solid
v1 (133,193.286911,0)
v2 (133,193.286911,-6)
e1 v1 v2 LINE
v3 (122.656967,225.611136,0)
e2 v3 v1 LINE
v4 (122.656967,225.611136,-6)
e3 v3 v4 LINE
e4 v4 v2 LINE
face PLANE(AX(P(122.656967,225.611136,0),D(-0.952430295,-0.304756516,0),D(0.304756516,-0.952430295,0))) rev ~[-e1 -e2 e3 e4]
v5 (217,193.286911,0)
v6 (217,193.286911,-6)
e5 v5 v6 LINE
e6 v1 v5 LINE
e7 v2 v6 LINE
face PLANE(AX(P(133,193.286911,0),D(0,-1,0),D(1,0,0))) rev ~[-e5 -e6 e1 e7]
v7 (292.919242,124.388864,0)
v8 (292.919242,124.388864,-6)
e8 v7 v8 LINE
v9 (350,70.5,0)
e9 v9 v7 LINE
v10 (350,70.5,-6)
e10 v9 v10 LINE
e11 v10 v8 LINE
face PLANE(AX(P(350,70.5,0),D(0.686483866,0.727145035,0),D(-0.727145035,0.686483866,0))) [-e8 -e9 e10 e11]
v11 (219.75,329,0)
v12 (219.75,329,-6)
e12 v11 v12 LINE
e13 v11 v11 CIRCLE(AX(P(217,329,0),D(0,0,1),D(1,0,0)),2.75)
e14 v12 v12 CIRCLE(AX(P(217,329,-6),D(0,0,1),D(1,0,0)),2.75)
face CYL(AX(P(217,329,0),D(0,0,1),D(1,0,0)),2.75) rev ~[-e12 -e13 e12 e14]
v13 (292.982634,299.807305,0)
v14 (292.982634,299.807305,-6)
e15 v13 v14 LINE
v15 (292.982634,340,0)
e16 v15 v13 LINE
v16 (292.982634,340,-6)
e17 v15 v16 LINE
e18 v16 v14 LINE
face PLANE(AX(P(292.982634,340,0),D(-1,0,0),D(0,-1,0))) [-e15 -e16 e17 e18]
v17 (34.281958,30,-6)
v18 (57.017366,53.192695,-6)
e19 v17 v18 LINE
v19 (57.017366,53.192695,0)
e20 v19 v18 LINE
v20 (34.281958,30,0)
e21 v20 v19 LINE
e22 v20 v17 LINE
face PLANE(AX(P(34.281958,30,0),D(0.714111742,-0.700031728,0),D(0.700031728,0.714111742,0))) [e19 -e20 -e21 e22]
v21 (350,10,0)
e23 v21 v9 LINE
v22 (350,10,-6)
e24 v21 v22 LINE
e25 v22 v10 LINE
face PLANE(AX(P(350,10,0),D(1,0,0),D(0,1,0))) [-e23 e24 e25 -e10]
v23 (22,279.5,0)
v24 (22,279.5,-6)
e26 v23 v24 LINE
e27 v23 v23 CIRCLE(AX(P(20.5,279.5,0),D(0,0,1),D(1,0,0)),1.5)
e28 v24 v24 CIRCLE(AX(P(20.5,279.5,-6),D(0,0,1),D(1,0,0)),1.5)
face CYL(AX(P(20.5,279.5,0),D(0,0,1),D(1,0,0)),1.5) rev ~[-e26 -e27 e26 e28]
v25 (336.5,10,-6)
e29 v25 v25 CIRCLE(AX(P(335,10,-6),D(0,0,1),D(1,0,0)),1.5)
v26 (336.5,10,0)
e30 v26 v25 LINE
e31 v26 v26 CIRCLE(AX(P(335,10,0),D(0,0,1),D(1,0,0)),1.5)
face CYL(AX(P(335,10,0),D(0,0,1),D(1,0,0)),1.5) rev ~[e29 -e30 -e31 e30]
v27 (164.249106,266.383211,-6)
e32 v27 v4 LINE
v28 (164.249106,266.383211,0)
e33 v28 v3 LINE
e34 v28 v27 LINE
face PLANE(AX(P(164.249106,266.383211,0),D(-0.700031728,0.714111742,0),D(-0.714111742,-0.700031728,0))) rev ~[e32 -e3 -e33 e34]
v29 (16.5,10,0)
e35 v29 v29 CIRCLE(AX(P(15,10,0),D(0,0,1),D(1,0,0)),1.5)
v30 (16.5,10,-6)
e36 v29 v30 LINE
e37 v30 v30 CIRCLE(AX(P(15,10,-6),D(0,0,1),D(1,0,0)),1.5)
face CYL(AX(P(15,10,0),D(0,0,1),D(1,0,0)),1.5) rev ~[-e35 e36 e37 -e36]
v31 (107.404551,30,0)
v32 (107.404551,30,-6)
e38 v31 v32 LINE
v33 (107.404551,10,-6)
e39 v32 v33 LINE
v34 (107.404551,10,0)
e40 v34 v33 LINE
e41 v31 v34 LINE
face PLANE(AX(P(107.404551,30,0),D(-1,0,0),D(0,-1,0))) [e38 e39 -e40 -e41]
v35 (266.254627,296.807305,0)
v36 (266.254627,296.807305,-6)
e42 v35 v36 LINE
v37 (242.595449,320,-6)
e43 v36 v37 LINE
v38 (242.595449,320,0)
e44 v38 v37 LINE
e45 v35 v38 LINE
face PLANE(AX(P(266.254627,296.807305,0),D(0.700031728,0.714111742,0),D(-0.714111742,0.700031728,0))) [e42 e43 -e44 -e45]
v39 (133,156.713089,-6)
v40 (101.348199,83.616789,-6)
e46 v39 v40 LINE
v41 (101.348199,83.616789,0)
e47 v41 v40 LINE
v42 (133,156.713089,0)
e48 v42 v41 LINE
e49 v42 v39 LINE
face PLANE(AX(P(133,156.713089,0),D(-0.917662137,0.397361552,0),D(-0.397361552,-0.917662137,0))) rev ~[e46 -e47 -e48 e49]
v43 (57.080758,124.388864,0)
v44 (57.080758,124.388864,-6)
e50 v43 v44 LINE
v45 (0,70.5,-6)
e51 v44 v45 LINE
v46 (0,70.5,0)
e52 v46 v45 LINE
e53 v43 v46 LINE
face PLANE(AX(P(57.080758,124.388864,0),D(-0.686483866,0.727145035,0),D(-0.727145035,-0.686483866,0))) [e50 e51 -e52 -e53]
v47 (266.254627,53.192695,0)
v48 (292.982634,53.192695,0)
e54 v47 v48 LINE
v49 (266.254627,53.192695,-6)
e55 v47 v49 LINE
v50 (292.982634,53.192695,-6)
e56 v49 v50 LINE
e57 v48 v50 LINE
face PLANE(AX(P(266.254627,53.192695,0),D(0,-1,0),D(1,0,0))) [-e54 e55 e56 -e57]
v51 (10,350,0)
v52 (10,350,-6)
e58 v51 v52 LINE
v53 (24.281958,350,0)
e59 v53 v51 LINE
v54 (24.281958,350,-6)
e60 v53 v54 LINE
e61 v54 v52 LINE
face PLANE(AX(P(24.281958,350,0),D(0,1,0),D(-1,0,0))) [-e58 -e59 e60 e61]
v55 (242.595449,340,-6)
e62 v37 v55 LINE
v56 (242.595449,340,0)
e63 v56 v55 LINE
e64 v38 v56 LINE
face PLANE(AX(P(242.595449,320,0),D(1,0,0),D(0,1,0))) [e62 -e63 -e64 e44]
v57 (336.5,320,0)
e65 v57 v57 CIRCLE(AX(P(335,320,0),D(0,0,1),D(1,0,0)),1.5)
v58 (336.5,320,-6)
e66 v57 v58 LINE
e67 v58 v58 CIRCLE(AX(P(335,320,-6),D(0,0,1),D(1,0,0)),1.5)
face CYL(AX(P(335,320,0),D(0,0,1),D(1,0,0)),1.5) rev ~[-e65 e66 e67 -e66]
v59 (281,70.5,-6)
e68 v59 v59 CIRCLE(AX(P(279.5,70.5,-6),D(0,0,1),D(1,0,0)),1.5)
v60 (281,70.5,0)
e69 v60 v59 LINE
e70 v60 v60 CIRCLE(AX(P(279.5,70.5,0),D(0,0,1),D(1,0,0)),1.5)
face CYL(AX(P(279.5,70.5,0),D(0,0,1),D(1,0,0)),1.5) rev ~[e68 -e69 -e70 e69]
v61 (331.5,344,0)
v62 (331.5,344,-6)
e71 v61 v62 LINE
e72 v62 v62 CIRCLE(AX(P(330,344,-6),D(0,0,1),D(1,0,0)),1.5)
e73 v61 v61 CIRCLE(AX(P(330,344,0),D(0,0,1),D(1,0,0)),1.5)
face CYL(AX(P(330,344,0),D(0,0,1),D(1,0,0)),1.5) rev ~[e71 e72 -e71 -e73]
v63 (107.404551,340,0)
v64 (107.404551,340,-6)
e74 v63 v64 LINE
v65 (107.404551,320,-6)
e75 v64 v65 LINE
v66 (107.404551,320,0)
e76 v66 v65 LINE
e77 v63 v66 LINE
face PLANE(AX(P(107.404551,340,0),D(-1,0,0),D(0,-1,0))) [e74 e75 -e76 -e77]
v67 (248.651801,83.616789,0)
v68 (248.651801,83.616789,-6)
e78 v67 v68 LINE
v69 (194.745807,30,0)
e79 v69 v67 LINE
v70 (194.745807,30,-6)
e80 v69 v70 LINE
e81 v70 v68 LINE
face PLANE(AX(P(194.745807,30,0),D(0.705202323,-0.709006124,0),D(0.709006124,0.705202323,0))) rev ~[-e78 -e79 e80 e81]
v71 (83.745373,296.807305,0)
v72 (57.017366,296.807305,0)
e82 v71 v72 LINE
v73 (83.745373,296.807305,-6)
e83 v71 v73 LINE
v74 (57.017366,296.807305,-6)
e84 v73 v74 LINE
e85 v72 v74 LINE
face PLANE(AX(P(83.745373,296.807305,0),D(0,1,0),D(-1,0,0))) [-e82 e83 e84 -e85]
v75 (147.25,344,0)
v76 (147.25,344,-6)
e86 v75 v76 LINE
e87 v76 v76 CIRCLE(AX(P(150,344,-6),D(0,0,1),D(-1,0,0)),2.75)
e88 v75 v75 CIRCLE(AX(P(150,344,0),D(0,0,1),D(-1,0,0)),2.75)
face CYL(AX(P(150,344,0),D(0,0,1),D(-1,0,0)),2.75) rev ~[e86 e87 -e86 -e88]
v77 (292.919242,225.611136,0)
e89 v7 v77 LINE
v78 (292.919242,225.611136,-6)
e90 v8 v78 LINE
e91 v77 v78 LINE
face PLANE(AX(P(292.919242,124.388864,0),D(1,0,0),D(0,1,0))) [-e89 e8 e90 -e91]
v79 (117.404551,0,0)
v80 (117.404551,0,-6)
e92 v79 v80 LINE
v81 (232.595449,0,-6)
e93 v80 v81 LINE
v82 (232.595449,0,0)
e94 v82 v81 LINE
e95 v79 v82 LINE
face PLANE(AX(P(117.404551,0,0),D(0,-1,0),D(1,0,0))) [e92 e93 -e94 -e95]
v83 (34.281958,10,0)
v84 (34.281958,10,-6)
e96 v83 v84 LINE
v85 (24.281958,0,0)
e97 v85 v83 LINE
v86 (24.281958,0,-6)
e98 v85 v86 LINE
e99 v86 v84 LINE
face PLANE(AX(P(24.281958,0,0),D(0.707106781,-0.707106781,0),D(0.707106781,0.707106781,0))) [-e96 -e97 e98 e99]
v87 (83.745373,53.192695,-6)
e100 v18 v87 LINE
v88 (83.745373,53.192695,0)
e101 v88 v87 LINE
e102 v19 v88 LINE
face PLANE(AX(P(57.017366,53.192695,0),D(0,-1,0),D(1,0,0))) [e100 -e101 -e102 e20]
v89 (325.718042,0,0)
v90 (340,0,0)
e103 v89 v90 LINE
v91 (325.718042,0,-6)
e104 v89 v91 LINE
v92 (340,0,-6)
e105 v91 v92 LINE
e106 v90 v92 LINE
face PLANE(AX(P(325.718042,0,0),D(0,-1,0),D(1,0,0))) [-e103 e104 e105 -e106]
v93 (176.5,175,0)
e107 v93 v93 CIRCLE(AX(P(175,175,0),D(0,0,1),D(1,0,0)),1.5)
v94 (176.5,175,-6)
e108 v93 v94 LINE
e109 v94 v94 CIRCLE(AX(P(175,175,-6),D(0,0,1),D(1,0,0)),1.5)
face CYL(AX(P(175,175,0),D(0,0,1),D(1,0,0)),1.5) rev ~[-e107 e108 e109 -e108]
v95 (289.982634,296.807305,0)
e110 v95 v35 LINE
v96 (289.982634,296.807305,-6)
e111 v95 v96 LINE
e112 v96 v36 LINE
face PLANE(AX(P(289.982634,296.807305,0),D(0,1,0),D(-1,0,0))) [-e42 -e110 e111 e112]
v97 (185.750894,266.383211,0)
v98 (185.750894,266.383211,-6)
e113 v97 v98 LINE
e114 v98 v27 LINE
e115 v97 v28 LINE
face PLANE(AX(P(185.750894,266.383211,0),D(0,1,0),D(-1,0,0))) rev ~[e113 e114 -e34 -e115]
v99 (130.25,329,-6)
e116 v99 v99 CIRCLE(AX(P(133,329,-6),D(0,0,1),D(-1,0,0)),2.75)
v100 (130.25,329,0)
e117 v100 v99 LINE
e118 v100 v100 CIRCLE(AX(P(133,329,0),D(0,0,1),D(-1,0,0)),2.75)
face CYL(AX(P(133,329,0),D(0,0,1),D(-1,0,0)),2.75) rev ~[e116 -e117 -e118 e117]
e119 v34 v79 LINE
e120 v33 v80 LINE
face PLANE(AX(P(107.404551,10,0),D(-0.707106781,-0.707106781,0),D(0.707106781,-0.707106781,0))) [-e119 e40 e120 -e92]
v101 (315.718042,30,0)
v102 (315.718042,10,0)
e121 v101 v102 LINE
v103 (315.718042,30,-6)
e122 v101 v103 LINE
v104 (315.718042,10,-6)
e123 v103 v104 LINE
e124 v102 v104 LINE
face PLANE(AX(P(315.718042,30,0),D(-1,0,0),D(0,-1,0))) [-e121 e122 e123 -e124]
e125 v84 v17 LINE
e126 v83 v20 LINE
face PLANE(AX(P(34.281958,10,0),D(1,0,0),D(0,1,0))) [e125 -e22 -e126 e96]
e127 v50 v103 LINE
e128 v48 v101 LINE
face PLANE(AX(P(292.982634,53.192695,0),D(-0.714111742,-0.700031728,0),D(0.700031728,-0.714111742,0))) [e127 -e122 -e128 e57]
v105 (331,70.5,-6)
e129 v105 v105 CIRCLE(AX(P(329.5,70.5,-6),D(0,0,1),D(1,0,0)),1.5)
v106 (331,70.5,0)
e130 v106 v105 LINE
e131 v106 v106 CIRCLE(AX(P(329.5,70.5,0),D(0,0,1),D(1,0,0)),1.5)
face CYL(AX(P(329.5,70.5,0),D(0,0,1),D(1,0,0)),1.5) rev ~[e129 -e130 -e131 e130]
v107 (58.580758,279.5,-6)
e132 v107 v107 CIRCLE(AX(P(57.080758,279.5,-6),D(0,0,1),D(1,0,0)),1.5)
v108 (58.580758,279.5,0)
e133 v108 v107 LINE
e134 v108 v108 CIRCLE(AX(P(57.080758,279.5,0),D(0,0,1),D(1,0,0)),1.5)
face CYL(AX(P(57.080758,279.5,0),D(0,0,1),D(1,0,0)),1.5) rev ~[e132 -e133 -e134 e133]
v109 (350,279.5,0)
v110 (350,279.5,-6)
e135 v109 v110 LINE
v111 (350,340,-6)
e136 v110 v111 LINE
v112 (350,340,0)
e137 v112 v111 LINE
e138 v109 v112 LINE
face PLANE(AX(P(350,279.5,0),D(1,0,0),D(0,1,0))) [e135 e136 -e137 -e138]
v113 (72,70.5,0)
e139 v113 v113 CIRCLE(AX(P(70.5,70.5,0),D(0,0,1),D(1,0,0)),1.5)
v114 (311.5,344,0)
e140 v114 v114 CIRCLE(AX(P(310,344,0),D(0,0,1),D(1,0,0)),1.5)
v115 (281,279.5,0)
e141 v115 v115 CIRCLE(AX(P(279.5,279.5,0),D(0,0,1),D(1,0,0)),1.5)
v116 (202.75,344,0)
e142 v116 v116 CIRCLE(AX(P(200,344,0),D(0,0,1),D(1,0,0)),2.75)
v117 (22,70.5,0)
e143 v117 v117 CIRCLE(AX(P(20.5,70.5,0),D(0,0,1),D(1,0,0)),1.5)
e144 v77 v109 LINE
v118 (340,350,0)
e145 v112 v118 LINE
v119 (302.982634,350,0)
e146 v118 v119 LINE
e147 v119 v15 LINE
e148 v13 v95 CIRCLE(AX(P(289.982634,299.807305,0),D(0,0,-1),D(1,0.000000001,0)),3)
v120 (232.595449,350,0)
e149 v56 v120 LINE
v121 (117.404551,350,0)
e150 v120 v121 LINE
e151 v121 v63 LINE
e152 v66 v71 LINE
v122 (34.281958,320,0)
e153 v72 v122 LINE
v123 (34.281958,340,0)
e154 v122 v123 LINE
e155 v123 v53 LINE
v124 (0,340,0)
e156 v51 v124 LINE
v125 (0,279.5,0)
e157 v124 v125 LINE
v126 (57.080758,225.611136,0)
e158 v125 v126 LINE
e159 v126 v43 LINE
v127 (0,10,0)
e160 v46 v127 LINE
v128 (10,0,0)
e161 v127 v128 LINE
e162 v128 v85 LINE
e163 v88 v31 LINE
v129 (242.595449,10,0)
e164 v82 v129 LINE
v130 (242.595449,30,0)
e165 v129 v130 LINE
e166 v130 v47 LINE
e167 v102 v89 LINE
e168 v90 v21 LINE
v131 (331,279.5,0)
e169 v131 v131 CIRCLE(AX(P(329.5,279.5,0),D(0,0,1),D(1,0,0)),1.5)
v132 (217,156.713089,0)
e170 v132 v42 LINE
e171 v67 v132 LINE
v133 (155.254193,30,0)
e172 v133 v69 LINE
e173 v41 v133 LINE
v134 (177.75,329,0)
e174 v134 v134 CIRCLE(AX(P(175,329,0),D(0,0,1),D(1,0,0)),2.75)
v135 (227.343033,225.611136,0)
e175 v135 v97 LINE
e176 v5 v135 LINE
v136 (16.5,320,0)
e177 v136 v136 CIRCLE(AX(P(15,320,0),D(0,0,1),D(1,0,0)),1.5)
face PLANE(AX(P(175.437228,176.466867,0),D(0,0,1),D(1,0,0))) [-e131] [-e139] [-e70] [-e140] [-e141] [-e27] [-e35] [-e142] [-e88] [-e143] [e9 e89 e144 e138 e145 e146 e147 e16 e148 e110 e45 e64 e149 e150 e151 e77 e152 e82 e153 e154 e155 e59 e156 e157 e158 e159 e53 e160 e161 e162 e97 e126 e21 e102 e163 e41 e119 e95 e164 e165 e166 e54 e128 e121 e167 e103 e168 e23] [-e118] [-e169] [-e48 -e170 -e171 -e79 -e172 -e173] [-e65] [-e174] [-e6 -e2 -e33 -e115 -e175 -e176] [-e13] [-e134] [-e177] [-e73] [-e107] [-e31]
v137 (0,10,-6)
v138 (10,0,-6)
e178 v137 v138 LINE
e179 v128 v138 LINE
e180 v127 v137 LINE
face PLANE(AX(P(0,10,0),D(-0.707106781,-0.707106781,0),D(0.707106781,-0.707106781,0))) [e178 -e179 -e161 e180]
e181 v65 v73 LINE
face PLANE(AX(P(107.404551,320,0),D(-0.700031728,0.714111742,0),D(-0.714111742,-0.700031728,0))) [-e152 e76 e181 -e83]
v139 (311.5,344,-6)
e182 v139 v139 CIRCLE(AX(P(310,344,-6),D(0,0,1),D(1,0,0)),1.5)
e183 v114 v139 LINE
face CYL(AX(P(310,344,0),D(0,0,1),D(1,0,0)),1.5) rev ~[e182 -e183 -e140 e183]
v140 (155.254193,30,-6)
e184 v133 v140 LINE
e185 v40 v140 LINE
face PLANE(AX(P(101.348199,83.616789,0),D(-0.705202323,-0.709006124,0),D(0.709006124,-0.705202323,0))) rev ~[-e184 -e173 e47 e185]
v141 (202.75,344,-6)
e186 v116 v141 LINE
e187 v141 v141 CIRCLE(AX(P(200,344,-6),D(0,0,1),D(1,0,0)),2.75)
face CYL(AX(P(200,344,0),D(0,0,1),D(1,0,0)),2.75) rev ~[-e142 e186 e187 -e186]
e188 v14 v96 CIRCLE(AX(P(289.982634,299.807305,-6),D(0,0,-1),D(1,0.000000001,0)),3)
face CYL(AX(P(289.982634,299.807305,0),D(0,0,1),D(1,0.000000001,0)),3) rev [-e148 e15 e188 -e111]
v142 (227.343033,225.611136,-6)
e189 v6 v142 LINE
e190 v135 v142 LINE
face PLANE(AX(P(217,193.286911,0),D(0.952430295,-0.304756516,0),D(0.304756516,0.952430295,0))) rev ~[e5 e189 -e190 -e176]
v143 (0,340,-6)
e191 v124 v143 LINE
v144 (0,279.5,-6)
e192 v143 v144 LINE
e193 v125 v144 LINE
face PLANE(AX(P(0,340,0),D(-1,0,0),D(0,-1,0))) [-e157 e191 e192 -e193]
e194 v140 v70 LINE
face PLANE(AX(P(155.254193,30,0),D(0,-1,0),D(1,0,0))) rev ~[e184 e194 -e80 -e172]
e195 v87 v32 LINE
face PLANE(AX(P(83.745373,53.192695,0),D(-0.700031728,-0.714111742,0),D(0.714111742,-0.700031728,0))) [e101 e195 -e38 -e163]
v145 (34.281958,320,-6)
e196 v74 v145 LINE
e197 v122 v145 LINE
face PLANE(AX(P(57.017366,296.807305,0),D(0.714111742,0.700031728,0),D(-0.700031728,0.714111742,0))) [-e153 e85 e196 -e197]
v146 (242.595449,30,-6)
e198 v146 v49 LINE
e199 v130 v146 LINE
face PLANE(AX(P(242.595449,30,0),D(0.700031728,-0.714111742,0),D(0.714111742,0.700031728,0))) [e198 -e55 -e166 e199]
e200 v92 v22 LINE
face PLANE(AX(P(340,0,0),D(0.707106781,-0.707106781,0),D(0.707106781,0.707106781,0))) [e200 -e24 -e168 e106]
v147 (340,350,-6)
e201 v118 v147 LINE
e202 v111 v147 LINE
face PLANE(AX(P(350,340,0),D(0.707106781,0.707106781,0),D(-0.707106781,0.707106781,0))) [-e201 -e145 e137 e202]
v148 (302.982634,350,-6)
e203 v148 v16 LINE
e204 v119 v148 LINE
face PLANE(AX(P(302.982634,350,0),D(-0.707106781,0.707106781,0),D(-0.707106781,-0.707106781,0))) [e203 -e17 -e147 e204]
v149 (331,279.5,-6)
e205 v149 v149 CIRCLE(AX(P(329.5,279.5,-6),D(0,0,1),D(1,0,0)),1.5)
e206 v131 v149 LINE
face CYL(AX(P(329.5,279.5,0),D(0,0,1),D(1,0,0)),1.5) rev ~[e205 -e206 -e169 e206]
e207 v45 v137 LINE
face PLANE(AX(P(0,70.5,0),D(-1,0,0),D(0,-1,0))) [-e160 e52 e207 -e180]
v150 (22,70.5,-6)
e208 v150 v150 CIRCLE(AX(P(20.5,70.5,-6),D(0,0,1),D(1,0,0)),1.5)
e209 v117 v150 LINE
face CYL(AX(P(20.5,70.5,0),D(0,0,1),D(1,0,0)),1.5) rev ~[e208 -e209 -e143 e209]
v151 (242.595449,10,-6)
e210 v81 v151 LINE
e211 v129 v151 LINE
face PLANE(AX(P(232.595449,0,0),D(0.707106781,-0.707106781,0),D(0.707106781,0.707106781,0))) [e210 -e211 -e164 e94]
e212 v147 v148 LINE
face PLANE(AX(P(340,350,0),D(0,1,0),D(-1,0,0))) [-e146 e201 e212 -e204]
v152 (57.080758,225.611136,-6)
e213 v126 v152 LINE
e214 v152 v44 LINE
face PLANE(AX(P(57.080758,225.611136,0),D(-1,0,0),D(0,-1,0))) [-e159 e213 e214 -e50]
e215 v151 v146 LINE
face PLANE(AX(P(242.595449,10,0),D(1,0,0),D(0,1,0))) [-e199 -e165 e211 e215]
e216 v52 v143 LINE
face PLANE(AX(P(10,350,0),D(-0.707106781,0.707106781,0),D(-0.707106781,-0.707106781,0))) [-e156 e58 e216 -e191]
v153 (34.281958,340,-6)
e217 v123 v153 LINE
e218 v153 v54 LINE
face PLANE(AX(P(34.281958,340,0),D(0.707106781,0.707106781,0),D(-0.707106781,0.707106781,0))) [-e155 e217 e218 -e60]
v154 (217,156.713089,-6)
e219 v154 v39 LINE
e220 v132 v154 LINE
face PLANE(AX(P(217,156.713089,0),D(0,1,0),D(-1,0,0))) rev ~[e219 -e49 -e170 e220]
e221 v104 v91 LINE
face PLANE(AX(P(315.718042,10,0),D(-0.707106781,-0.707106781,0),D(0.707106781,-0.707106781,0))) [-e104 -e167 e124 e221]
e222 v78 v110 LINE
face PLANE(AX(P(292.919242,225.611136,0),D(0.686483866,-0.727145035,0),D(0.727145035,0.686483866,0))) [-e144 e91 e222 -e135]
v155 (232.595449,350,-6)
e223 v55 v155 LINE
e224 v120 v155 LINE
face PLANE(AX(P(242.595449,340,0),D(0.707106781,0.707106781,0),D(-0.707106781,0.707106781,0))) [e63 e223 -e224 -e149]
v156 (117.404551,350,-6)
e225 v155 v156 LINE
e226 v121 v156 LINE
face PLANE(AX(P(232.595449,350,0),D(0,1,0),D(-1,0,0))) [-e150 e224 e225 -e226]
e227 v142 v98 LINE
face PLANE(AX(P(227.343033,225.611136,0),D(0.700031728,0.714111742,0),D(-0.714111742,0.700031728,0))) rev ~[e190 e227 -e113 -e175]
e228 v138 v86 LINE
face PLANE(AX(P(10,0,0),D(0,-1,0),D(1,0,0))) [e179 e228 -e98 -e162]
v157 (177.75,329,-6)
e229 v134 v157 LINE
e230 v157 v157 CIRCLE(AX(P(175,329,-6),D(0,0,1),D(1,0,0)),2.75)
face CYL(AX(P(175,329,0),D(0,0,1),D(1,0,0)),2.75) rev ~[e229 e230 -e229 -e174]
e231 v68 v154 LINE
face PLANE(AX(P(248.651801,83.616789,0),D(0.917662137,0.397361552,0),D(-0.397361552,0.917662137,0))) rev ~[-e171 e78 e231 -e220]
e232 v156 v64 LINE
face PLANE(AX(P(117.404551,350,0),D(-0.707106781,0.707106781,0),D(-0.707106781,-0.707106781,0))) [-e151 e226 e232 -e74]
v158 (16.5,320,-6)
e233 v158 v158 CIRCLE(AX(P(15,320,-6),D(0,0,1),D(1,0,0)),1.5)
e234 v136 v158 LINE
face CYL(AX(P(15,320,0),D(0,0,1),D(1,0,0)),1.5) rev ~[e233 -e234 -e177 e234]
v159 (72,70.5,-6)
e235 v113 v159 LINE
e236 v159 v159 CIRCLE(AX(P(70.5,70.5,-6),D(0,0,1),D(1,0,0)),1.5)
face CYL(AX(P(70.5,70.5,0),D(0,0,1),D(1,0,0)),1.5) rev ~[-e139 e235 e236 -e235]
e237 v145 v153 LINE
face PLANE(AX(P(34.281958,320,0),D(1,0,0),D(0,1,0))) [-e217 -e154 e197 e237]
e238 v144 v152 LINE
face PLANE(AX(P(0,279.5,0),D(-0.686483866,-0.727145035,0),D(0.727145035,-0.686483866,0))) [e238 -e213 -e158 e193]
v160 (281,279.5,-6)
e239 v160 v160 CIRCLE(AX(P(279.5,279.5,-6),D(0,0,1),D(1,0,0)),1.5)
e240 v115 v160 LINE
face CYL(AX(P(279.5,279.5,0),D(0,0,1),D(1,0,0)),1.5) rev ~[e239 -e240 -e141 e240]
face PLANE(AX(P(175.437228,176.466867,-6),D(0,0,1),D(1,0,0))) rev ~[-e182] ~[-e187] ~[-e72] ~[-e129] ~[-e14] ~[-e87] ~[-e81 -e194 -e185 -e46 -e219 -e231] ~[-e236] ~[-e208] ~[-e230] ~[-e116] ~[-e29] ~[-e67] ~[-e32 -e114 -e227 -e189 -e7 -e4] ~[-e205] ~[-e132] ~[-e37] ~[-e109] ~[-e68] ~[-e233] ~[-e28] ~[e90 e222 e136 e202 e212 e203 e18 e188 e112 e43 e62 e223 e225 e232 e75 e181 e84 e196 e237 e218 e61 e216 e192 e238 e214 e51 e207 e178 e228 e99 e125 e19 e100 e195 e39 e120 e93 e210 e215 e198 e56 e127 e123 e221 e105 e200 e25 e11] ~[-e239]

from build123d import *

# Parameters (mm, degrees)
SCHIZZO13_R                  = 1.5
SCHIZZO13_R_2                = 2.75
ESTRUSIONE_ESTRUSIONE2_DEPTH = 6


with BuildPart() as part:
    # Schizzo13 → Estrusione-Estrusione2 (new body)
    with BuildSketch(Plane.XY):
        with BuildLine():
            Line((10, 0), (24.28195797, 0))
            Line((24.28195797, 0), (34.28195797, 10))
            Line((34.28195797, 10), (34.28195797, 30))
            Line((34.28195797, 30), (57.017366293, 53.192694567))
            Line((57.017366293, 53.192694567), (83.745372993, 53.192694567))
            Line((83.745372993, 53.192694567), (107.404551383, 30))
            Line((107.404551383, 30), (107.404551383, 10))
            Line((107.404551383, 10), (117.404551383, 0))
            Line((117.404551383, 0), (232.595448617, 0))
            Line((232.595448617, 0), (242.595448617, 10))
            Line((242.595448617, 10), (242.595448617, 30))
            Line((242.595448617, 30), (266.254627007, 53.192694567))
            Line((266.254627007, 53.192694567), (292.982633707, 53.192694567))
            Line((292.982633707, 53.192694567), (315.71804203, 30))
            Line((315.71804203, 30), (315.71804203, 10))
            Line((315.71804203, 10), (325.71804203, 0))
            Line((325.71804203, 0), (340, 0))
            Line((340, 0), (350, 10))
            Line((350, 10), (350, 70.5))
            Line((350, 70.5), (292.919241786, 124.388863529))
            Line((292.919241786, 124.388863529), (292.919241786, 225.611136471))
            Line((292.919241786, 225.611136471), (350, 279.5))
            Line((350, 279.5), (350, 340))
            Line((350, 340), (340, 350))
            Line((340, 350), (302.982633707, 350))
            Line((302.982633707, 350), (292.982633707, 340))
            Line((292.982633707, 340), (292.982633707, 299.807305433))
            ThreePointArc((292.982633707, 299.807305433), (292.103954051, 297.685985089), (289.982633707, 296.807305433))
            Line((289.982633707, 296.807305433), (266.254627007, 296.807305433))
            Line((266.254627007, 296.807305433), (242.595448617, 320))
            Line((242.595448617, 320), (242.595448617, 340))
            Line((242.595448617, 340), (232.595448617, 350))
            Line((232.595448617, 350), (117.404551383, 350))
            Line((117.404551383, 350), (107.404551383, 340))
            Line((107.404551383, 340), (107.404551383, 320))
            Line((107.404551383, 320), (83.745372993, 296.807305433))
            Line((83.745372993, 296.807305433), (57.017366293, 296.807305433))
            Line((57.017366293, 296.807305433), (34.28195797, 320))
            Line((34.28195797, 320), (34.28195797, 340))
            Line((34.28195797, 340), (24.28195797, 350))
            Line((24.28195797, 350), (10, 350))
            Line((10, 350), (0, 340))
            Line((0, 340), (0, 279.5))
            Line((0, 279.5), (57.080758214, 225.611136471))
            Line((57.080758214, 225.611136471), (57.080758214, 175))
            Line((57.080758214, 175), (57.080758214, 124.388863529))
            Line((57.080758214, 124.388863529), (0, 70.5))
            Line((0, 70.5), (0, 10))
            Line((0, 10), (10, 0))
        make_face()
        with Locations((15, 320)):
            Circle(SCHIZZO13_R, mode=Mode.SUBTRACT)
        with Locations((20.5, 279.5)):
            Circle(SCHIZZO13_R, mode=Mode.SUBTRACT)
        with Locations((57.080758214, 279.5)):
            Circle(SCHIZZO13_R, mode=Mode.SUBTRACT)
        with Locations((175, 175)):
            Circle(SCHIZZO13_R, mode=Mode.SUBTRACT)
        with Locations((20.5, 70.5)):
            Circle(SCHIZZO13_R, mode=Mode.SUBTRACT)
        with Locations((200, 344)):
            Circle(SCHIZZO13_R_2, mode=Mode.SUBTRACT)
        with Locations(Location((150, 344, 0), (0, 0, 180))):
            Circle(SCHIZZO13_R_2, mode=Mode.SUBTRACT)
        with Locations((175, 329)):
            Circle(SCHIZZO13_R_2, mode=Mode.SUBTRACT)
        with Locations((217, 329)):
            Circle(SCHIZZO13_R_2, mode=Mode.SUBTRACT)
        with Locations(Location((133, 329, 0), (0, 0, 180))):
            Circle(SCHIZZO13_R_2, mode=Mode.SUBTRACT)
        with Locations((70.5, 70.5)):
            Circle(SCHIZZO13_R, mode=Mode.SUBTRACT)
        with Locations((279.5, 70.5)):
            Circle(SCHIZZO13_R, mode=Mode.SUBTRACT)
        with Locations((329.5, 70.5)):
            Circle(SCHIZZO13_R, mode=Mode.SUBTRACT)
        with Locations((335, 10)):
            Circle(SCHIZZO13_R, mode=Mode.SUBTRACT)
        with Locations((15, 10)):
            Circle(SCHIZZO13_R, mode=Mode.SUBTRACT)
        with Locations((279.5, 279.5)):
            Circle(SCHIZZO13_R, mode=Mode.SUBTRACT)
        with Locations((329.5, 279.5)):
            Circle(SCHIZZO13_R, mode=Mode.SUBTRACT)
        with Locations((335, 320)):
            Circle(SCHIZZO13_R, mode=Mode.SUBTRACT)
        with Locations((310, 344)):
            Circle(SCHIZZO13_R, mode=Mode.SUBTRACT)
        with Locations((330, 344)):
            Circle(SCHIZZO13_R, mode=Mode.SUBTRACT)
        Polygon((217, 193.286910978), (227.343033378, 225.611136471), (185.750894453, 266.383210572), (164.249105547, 266.383210572), (122.656966622, 225.611136471), (133, 193.286910978), align=None, mode=Mode.SUBTRACT)
        Polygon((133, 156.713089022), (101.348199345, 83.616789428), (155.254193112, 30), (194.745806888, 30), (248.651800655, 83.616789428), (217, 156.713089022), align=None, mode=Mode.SUBTRACT)
    extrude(amount=-ESTRUSIONE_ESTRUSIONE2_DEPTH)


solid = part.part
